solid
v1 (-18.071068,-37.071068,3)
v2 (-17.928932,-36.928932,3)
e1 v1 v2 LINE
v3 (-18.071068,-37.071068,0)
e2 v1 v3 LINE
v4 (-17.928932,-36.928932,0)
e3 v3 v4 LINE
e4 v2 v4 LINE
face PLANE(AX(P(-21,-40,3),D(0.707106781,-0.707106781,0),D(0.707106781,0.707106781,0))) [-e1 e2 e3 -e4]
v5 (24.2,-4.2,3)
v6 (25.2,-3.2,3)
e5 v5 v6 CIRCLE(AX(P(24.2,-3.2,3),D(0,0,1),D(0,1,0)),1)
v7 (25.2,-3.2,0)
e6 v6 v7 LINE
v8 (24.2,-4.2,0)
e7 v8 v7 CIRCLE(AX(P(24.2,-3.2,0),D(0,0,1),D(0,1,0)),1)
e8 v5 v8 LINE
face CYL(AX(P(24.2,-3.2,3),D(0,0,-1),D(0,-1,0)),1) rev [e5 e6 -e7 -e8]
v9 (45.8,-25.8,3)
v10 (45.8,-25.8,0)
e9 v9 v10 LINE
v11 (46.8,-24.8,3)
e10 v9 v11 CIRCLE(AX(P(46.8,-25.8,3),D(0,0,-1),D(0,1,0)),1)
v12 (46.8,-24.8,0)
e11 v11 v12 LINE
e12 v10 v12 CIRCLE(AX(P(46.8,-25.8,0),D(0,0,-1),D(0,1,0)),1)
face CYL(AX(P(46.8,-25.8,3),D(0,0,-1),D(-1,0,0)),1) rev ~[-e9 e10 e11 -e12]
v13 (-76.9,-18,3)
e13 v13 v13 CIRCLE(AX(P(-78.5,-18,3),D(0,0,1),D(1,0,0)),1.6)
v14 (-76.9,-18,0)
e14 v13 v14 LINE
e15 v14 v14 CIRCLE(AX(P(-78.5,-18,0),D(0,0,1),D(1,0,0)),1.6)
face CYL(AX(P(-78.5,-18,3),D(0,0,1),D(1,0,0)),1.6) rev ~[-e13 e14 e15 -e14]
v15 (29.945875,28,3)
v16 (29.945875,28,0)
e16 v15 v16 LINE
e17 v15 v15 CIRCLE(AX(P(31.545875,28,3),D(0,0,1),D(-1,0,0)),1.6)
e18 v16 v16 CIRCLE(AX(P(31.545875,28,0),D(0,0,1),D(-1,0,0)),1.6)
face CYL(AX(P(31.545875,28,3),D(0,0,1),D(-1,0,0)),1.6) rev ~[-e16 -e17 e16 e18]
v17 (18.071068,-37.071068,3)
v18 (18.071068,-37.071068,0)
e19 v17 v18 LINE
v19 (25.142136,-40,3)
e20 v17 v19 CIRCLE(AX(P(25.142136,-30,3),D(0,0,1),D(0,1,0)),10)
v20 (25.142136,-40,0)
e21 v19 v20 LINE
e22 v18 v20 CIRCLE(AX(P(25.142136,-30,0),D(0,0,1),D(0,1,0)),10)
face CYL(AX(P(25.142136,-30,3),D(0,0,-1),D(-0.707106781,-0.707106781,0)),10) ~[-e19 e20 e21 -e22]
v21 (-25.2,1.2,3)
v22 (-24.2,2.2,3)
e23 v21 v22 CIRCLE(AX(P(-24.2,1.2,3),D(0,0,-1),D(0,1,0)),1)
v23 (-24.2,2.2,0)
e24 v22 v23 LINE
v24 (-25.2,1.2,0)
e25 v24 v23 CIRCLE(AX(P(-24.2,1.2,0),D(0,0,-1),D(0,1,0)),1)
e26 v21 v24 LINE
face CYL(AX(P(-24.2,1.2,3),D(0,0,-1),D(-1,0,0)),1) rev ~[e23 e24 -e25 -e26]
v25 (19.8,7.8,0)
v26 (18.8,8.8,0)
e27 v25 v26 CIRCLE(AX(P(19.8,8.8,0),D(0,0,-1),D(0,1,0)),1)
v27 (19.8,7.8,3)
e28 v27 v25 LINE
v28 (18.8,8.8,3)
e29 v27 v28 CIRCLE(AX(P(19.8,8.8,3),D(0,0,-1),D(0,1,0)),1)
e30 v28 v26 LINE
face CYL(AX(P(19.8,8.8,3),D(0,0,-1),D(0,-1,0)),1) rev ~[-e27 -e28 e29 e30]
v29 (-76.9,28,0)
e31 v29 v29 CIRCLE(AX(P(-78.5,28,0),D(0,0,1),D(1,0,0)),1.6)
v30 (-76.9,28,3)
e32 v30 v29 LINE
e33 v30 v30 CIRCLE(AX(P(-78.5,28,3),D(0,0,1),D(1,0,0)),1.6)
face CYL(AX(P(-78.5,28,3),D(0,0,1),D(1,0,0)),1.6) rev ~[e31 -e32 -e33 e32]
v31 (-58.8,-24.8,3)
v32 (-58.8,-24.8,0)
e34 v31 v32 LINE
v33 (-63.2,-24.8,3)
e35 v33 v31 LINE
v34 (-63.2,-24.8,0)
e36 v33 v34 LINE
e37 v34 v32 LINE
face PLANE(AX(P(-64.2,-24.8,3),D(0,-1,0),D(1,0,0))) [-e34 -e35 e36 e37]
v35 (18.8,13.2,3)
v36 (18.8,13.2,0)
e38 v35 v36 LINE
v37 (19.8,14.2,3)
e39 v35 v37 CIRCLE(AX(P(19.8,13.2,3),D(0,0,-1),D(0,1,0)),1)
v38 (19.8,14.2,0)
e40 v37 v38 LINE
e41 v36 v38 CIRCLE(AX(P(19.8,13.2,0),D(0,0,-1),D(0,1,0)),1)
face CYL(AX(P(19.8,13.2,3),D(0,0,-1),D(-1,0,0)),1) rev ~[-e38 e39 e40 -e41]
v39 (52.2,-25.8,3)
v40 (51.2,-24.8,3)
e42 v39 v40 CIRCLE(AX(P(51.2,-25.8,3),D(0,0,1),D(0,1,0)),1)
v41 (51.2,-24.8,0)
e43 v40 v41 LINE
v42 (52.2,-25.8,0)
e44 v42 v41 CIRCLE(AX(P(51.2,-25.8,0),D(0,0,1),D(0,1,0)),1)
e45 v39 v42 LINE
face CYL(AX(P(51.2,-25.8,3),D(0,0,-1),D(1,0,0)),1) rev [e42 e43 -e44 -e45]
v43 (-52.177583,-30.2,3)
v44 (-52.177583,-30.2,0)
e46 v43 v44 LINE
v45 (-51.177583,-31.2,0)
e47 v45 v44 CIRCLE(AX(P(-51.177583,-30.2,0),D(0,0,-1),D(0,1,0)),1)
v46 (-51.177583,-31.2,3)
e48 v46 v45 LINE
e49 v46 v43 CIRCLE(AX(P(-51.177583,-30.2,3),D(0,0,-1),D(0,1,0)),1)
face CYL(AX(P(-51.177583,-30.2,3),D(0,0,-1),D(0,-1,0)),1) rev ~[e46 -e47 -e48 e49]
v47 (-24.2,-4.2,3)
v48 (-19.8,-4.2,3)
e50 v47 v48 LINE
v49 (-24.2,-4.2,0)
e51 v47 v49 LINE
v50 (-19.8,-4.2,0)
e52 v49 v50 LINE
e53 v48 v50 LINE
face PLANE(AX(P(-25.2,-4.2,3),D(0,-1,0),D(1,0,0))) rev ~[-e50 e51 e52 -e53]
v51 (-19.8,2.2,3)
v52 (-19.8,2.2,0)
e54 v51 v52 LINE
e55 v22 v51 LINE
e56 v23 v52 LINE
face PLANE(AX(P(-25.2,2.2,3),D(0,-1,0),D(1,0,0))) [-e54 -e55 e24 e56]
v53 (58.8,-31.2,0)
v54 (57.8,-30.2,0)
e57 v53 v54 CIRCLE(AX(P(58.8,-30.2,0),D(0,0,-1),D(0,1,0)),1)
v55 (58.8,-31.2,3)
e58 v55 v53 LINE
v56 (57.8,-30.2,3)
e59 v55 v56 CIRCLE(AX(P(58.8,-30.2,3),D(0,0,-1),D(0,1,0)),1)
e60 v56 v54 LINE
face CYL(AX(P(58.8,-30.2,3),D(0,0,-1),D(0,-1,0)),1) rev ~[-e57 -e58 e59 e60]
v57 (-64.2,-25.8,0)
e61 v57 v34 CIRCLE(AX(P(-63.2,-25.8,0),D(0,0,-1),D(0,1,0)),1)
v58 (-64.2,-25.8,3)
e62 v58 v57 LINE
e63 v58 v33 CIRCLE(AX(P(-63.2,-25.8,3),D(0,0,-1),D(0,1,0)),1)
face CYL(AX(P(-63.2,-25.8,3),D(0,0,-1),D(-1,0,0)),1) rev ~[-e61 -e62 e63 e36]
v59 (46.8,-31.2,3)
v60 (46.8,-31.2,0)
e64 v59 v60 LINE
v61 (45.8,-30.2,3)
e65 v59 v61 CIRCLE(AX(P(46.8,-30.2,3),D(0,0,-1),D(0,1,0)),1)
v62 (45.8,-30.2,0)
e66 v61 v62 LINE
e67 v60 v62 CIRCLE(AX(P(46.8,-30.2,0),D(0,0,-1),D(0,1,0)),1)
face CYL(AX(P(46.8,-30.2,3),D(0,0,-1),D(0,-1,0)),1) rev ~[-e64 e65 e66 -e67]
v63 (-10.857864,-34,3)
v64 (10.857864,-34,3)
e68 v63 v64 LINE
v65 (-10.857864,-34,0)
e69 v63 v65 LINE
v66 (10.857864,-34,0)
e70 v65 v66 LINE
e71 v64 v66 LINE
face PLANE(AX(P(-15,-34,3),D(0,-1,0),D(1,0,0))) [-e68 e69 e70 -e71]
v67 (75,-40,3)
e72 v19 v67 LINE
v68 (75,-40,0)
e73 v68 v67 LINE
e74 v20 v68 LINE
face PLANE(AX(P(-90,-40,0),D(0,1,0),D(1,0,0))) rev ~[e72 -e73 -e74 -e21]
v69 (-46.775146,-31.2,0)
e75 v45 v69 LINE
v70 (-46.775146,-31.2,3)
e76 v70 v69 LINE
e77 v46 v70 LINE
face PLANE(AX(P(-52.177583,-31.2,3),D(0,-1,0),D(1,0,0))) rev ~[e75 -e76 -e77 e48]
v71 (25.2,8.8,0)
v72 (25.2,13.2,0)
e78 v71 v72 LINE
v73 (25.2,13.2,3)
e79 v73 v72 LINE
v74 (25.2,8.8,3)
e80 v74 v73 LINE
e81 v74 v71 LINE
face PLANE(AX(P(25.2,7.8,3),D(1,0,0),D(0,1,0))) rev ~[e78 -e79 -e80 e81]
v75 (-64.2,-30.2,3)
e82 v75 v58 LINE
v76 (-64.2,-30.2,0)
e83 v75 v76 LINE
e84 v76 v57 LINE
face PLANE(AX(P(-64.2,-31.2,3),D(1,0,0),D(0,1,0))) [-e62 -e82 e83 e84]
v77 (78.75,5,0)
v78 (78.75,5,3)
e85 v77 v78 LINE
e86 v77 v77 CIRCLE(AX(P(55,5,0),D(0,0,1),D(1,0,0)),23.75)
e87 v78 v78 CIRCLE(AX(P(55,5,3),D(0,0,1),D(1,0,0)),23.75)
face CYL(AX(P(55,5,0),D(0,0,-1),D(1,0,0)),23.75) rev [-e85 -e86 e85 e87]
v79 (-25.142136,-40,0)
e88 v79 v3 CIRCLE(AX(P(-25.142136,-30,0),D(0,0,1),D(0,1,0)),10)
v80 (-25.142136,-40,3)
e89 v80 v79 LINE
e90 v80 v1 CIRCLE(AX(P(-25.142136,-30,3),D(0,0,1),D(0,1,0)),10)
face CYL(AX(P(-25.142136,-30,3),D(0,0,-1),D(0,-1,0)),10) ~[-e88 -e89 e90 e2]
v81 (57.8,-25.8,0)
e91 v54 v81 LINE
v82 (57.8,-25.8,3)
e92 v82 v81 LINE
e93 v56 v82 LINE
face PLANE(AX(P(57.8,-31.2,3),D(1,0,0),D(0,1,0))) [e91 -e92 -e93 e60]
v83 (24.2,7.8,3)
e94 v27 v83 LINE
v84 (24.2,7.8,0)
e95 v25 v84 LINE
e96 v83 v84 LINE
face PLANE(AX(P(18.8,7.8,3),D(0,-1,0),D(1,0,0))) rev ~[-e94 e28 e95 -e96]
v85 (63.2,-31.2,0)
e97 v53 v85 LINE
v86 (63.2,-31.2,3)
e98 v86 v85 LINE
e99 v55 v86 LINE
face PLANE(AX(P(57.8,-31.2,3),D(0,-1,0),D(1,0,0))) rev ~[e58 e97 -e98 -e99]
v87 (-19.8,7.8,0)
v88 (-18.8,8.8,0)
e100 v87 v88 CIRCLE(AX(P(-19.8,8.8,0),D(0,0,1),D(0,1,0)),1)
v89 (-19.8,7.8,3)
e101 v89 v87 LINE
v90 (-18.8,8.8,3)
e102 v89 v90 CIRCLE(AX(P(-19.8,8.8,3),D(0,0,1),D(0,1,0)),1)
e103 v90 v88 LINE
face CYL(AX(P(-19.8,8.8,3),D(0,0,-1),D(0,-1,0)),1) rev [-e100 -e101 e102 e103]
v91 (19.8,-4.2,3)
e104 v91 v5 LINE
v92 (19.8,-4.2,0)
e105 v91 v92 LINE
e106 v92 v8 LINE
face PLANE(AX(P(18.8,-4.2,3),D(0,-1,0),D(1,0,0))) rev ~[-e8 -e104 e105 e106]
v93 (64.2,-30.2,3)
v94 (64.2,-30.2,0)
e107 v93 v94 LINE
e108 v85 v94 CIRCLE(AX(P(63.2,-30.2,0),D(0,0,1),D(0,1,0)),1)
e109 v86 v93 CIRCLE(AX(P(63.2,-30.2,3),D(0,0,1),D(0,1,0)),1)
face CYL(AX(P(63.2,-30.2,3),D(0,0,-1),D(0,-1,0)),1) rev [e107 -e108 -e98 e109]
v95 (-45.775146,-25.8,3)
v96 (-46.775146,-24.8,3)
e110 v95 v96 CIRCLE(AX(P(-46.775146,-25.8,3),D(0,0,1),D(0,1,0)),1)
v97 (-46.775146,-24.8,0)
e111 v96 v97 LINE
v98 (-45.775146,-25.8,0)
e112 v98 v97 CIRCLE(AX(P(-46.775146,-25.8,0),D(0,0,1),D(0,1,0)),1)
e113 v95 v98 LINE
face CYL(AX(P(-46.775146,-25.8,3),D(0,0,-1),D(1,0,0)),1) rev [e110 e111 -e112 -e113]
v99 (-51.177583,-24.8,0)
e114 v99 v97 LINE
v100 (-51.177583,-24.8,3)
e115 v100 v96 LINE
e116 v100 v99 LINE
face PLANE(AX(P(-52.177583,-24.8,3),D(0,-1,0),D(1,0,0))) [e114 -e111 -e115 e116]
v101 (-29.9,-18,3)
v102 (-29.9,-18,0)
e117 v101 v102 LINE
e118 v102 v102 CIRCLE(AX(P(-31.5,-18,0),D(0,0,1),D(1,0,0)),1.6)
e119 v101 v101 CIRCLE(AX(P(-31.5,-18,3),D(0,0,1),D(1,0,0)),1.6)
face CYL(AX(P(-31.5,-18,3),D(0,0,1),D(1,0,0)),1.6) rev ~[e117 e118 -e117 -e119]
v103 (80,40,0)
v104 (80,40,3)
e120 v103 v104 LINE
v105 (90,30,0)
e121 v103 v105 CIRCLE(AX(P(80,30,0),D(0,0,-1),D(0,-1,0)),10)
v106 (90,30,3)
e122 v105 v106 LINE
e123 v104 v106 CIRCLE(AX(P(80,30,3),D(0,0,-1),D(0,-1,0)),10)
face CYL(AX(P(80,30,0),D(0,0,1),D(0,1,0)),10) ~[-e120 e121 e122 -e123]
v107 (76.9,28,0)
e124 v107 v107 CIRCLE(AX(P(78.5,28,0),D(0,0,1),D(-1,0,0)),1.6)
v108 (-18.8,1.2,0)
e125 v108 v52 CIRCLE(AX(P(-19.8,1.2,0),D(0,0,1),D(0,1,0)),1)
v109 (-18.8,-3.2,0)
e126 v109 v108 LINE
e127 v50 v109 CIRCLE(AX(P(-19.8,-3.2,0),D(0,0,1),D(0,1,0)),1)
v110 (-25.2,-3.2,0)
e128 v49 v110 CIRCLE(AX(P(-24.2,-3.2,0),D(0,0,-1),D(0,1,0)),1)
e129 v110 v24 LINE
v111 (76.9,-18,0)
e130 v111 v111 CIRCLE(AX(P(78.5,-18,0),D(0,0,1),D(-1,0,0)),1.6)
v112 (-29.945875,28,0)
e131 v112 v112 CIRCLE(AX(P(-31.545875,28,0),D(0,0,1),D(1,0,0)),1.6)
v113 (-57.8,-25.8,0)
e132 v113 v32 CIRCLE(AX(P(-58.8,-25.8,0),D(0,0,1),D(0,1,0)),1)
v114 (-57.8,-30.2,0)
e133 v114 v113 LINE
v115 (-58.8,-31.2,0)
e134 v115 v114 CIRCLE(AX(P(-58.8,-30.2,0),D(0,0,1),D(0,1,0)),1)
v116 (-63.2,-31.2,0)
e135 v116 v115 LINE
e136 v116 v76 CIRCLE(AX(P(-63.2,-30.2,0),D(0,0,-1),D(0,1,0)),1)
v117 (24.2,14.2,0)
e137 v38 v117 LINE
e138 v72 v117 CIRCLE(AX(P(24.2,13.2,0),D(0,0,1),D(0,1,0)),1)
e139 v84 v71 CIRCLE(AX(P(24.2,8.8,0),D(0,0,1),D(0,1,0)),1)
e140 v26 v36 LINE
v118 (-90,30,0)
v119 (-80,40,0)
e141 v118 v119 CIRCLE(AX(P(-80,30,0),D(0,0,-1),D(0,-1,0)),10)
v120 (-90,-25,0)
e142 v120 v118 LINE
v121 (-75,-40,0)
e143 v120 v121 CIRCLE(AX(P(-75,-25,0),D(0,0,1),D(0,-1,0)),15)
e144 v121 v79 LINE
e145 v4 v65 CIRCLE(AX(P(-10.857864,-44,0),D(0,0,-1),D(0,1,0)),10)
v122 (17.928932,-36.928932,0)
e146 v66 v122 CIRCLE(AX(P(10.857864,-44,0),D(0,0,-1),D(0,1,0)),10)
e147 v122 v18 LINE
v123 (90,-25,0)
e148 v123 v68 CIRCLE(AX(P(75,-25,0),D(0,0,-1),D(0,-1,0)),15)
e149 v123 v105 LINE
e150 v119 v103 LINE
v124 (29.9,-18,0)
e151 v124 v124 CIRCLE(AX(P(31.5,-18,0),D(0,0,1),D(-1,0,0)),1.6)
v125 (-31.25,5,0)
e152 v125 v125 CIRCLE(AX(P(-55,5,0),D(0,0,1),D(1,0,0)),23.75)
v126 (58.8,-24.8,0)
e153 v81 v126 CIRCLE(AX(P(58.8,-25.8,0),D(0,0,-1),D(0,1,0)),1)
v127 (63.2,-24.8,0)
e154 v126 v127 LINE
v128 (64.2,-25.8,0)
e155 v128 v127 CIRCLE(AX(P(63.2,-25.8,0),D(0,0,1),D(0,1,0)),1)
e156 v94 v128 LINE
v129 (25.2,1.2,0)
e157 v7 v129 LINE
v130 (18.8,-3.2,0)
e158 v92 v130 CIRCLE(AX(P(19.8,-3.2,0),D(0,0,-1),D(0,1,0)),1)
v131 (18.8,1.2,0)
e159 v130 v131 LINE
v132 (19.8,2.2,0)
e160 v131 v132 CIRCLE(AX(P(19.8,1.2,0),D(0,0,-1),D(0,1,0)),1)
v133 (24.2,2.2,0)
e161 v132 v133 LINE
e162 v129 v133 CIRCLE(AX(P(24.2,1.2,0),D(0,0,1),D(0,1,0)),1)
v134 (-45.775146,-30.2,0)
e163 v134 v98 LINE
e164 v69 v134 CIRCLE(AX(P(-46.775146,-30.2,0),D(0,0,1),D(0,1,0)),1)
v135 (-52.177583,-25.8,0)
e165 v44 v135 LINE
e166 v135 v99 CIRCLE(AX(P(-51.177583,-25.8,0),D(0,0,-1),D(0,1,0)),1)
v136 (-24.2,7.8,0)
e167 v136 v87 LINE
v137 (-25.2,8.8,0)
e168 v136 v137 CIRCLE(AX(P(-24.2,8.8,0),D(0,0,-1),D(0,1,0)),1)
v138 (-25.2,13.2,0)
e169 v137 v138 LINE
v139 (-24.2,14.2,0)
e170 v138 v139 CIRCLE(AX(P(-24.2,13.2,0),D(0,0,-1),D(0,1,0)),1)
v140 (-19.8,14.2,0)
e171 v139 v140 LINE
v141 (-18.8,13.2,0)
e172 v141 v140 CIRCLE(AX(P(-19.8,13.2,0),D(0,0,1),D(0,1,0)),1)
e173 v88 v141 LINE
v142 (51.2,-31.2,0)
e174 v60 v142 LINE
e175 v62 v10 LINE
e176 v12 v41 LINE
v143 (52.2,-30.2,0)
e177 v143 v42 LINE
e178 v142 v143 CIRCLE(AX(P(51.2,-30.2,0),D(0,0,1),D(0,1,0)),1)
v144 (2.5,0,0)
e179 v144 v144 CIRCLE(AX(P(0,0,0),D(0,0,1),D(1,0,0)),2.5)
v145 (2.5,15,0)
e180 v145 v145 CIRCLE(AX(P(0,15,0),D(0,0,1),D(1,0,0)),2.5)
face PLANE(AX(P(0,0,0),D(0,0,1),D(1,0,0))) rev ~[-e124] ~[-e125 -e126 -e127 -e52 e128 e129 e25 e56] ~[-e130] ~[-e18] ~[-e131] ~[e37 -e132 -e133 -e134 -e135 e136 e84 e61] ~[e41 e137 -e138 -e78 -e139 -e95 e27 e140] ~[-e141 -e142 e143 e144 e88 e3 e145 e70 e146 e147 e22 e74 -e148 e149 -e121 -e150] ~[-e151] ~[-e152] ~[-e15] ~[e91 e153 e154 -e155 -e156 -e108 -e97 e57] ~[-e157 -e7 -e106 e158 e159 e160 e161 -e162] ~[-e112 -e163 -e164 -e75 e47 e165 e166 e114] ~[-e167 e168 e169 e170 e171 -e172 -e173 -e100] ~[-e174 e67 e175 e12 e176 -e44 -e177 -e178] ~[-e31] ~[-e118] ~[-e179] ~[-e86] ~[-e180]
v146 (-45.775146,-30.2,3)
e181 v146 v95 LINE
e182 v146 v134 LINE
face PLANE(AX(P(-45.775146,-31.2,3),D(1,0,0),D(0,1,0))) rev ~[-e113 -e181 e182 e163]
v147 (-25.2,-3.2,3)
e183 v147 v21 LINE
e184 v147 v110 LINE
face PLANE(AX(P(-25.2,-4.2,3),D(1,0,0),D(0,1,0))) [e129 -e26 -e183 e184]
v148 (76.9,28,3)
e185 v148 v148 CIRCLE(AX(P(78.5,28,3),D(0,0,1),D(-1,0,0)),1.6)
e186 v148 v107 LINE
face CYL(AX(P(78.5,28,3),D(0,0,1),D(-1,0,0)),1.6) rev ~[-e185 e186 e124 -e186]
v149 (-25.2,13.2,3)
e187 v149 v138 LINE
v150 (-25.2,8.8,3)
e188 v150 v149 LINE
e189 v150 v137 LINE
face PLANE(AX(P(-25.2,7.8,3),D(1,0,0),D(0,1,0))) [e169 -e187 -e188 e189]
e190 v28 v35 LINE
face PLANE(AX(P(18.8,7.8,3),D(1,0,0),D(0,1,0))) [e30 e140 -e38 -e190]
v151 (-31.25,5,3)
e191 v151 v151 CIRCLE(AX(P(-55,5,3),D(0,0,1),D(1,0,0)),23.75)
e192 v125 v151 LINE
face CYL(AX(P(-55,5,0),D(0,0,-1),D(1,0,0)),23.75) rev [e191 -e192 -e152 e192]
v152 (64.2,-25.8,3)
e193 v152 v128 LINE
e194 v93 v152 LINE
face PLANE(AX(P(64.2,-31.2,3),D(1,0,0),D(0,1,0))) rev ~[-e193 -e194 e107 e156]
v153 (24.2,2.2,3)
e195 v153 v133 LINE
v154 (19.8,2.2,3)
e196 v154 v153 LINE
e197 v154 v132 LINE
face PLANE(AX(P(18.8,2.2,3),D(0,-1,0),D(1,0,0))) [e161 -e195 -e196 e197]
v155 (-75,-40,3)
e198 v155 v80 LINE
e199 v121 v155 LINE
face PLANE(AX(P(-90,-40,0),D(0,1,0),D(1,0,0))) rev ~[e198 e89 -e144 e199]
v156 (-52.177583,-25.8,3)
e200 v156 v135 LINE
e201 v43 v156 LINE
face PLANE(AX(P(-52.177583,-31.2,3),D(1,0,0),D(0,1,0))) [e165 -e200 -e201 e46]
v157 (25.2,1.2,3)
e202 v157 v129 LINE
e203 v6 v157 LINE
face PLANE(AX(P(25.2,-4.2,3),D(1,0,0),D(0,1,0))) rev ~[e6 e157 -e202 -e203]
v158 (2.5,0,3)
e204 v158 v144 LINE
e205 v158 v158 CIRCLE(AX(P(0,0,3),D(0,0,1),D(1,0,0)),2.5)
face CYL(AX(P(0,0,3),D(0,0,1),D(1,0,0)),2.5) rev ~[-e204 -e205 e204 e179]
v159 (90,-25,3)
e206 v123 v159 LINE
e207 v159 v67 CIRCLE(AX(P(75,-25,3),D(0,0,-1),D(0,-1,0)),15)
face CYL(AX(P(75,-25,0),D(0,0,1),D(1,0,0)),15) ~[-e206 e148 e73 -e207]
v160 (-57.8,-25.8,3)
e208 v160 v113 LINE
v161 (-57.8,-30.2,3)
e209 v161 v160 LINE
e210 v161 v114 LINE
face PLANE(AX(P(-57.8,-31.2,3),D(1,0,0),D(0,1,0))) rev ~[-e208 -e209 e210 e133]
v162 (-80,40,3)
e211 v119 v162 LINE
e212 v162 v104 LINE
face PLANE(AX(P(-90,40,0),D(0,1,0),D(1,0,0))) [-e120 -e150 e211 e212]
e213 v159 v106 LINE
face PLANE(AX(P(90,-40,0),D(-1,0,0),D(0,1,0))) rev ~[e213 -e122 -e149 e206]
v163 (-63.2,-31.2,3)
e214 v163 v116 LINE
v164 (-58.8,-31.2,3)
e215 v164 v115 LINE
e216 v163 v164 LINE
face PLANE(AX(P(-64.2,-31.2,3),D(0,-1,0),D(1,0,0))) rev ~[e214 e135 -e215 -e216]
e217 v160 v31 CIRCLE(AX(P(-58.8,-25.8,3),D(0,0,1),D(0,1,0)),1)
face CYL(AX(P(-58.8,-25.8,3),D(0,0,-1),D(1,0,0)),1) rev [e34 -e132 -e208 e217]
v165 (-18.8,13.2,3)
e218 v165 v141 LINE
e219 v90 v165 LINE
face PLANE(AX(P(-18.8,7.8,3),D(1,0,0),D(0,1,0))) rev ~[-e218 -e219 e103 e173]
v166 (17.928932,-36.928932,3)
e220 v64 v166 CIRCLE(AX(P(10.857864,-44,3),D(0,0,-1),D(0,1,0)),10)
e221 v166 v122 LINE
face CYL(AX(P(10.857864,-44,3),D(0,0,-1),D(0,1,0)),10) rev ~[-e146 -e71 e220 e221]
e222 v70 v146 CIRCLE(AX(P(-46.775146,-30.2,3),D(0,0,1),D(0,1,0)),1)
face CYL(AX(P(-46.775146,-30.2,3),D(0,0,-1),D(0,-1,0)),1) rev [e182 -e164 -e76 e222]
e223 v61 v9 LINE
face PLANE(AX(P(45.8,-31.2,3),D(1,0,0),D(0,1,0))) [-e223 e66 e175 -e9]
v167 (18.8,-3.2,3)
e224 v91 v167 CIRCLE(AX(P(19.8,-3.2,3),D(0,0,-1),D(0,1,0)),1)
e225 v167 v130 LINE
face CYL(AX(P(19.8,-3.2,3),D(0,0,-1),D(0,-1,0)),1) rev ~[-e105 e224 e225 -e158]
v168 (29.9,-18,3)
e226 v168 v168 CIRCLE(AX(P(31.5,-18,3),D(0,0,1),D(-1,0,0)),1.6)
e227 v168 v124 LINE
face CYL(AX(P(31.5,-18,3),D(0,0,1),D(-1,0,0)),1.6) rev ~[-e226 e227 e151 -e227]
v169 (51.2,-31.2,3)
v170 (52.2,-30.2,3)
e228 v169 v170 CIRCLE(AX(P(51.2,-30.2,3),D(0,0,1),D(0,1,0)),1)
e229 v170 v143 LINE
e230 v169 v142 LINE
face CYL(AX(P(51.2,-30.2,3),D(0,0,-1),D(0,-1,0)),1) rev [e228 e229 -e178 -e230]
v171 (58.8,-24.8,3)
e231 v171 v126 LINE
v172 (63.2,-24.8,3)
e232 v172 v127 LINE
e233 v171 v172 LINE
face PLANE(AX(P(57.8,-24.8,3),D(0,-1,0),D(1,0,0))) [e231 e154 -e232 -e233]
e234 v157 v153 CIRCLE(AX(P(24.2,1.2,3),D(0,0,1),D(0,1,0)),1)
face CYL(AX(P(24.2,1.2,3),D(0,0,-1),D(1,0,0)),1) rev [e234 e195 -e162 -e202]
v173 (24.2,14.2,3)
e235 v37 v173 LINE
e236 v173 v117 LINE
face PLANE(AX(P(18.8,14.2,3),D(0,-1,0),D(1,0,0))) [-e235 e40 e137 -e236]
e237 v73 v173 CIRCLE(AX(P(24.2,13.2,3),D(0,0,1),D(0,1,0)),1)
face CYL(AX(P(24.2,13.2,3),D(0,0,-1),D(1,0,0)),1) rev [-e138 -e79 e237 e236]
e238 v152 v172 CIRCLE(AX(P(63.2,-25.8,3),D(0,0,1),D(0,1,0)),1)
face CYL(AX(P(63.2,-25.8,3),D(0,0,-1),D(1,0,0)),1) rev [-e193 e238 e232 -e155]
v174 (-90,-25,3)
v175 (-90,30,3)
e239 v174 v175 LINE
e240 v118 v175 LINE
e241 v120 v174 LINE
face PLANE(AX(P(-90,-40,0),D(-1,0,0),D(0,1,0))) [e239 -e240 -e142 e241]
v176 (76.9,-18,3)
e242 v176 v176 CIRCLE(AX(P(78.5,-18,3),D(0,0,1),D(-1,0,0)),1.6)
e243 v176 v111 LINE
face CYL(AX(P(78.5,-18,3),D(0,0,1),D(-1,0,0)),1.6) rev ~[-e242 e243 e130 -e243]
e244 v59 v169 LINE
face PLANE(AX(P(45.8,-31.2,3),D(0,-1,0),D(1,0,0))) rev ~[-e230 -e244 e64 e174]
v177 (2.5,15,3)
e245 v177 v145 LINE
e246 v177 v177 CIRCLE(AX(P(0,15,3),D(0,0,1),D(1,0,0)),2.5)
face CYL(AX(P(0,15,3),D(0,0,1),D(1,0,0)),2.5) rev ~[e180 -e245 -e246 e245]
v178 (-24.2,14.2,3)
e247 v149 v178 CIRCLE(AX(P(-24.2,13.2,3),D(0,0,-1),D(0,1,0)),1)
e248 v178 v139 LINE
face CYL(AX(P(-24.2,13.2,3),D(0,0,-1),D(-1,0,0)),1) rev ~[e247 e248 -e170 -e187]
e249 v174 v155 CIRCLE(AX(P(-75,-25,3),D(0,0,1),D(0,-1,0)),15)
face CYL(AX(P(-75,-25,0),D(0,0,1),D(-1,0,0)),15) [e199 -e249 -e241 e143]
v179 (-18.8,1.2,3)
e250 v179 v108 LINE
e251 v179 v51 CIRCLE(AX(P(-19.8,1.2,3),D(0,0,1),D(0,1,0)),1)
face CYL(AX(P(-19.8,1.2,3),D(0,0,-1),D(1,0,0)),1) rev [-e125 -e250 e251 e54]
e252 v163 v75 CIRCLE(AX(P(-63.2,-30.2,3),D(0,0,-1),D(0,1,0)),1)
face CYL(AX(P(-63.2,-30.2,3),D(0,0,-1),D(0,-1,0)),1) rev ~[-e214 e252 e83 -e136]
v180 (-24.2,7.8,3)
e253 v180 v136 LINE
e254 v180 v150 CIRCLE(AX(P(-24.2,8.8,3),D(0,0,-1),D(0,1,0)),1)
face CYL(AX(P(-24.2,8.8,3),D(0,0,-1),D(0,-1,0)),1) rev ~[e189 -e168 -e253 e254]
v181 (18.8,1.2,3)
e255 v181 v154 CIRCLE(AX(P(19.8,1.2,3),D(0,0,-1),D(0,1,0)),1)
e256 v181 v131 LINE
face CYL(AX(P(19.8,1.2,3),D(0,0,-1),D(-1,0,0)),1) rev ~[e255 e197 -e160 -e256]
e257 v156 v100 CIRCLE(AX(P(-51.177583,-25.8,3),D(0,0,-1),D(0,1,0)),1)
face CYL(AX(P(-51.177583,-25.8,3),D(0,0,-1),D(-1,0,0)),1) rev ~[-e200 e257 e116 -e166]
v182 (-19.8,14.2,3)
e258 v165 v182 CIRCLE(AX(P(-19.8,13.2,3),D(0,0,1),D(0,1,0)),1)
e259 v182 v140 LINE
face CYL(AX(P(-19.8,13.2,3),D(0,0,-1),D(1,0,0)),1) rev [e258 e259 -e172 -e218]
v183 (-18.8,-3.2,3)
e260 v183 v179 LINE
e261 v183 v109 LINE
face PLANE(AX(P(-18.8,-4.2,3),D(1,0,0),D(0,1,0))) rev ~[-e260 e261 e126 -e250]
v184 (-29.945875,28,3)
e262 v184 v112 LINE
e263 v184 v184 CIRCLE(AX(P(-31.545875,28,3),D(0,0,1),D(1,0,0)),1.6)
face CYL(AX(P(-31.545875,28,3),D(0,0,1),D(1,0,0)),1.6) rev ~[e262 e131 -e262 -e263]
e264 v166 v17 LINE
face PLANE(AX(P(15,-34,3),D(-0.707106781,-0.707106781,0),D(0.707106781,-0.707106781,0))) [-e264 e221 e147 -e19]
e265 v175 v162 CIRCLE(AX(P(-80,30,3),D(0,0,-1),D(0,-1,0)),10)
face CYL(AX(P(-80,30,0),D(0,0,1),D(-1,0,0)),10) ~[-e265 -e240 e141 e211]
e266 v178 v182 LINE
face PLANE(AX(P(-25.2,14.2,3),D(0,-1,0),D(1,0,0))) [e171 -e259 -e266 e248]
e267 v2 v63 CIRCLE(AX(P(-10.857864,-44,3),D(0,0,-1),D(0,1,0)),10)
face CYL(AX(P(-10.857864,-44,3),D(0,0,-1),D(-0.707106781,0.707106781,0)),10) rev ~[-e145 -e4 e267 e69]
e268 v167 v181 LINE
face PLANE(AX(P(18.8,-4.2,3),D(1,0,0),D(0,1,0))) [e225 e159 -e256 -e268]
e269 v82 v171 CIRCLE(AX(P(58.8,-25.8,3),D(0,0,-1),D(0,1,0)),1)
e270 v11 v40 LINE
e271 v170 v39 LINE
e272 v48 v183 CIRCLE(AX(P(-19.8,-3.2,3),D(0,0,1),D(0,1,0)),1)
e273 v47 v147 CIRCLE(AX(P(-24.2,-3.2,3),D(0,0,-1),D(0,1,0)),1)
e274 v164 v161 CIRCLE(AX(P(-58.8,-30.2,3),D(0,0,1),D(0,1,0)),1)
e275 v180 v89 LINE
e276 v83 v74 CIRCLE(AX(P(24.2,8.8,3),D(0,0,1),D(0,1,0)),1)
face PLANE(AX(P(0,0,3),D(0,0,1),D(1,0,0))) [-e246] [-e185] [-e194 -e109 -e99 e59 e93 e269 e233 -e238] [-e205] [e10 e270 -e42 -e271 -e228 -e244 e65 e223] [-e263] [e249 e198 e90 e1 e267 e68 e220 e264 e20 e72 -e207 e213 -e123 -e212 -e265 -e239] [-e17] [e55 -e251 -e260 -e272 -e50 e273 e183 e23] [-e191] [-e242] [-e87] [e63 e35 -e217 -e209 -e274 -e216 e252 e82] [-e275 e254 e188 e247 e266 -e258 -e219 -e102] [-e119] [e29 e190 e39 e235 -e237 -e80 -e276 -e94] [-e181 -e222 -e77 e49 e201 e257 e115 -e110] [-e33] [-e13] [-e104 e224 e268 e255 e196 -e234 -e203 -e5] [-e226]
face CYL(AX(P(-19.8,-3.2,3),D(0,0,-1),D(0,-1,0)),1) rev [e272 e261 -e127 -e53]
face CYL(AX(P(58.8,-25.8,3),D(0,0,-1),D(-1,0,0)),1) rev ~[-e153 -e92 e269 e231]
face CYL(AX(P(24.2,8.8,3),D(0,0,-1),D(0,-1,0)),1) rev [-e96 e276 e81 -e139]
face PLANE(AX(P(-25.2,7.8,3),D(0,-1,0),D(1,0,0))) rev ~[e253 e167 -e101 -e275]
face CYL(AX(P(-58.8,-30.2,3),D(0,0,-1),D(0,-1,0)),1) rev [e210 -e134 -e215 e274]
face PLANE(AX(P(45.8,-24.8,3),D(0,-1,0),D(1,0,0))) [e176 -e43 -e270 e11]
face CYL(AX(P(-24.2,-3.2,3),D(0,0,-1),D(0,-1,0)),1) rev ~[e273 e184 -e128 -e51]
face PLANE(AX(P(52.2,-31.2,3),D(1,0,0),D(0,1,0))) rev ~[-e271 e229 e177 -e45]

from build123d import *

# Parameters (mm, degrees)
SKETCH1_W           = 180
SKETCH1_H           = 80
SKETCH1_R           = 23.75
BOSS_EXTRUDE1_DEPTH = 3
SKETCH2_W           = 6.4
SKETCH2_H           = 6.4
SKETCH2_W_2         = 6.402436435
CUT_EXTRUDE1_DEPTH  = 99.534258002
CUT_EXTRUDE2_DEPTH  = 3
SKETCH4_R           = 1.6
CUT_EXTRUDE3_DEPTH  = 3
SKETCH7_R           = 2.5
CUT_EXTRUDE4_DEPTH  = 3
FILLET1_R           = 10
FILLET2_R           = 15
FILLET3_R           = 10
FILLET4_R           = 1


with BuildPart() as part:
    # Sketch1 → Boss-Extrude1 (new body)
    with BuildSketch(Plane.XY):
        Rectangle(SKETCH1_W, SKETCH1_H)
        with Locations((55, 5)):
            Circle(SKETCH1_R, mode=Mode.SUBTRACT)
        with Locations((-55, 5)):
            Circle(SKETCH1_R, mode=Mode.SUBTRACT)
    extrude(amount=BOSS_EXTRUDE1_DEPTH)

    # Sketch2 → Cut-Extrude1 (cut, through all)
    with BuildSketch(Plane.XY.offset(3)):
        with Locations((-61, -28)):
            Rectangle(SKETCH2_W, SKETCH2_H)
        with Locations((-48.976364432, -28)):
            Rectangle(SKETCH2_W_2, SKETCH2_H)
        with Locations((-22, -1)):
            Rectangle(SKETCH2_W, SKETCH2_H)
        with Locations((-22, 11)):
            Rectangle(SKETCH2_W, SKETCH2_H)
        with Locations((22, -1)):
            Rectangle(SKETCH2_W, SKETCH2_H)
        with Locations((22, 11)):
            Rectangle(SKETCH2_W, SKETCH2_H)
        with Locations((49, -28)):
            Rectangle(SKETCH2_W, SKETCH2_H)
        with Locations((61, -28)):
            Rectangle(SKETCH2_W, SKETCH2_H)
    extrude(amount=-CUT_EXTRUDE1_DEPTH, mode=Mode.SUBTRACT)

    # Sketch3 → Cut-Extrude2 (cut)
    with BuildSketch(Plane.XY.offset(3)):
        Polygon((-21, -40), (-15, -34), (15, -34), (21, -40), align=None)
    extrude(amount=-CUT_EXTRUDE2_DEPTH, mode=Mode.SUBTRACT)

    # Sketch4 → Cut-Extrude3 (cut)
    with BuildSketch(Plane.XY.offset(3)):
        with Locations((-78.5, 28)):
            Circle(SKETCH4_R)
        with Locations((-31.545874822, 28)):
            Circle(SKETCH4_R)
        with Locations((-31.5, -18)):
            Circle(SKETCH4_R)
        with Locations((-78.5, -18)):
            Circle(SKETCH4_R)
        with Locations(Location((31.5, -18, 0), (0, 0, 180))):
            Circle(SKETCH4_R)
        with Locations(Location((31.545874822, 28, 0), (0, 0, 180))):
            Circle(SKETCH4_R)
        with Locations(Location((78.5, 28, 0), (0, 0, 180))):
            Circle(SKETCH4_R)
        with Locations(Location((78.5, -18, 0), (0, 0, 180))):
            Circle(SKETCH4_R)
    extrude(amount=-CUT_EXTRUDE3_DEPTH, mode=Mode.SUBTRACT)

    # Sketch7 → Cut-Extrude4 (cut)
    with BuildSketch(Plane.XY.offset(3)):
        Circle(SKETCH7_R)
        with Locations((0, 15)):
            Circle(SKETCH7_R)
    extrude(amount=-CUT_EXTRUDE4_DEPTH, mode=Mode.SUBTRACT)

    # Fillet1
    fillet1_edges = [part.edges().sort_by_distance(p)[0] for p in [
        (-90, 40, 1.5),
        (90, 40, 1.5),
    ]]
    fillet(fillet1_edges, radius=FILLET1_R)

    # Fillet2
    fillet2_edges = [part.edges().sort_by_distance(p)[0] for p in [
        (90, -40, 1.5),
        (-90, -40, 1.5),
    ]]
    fillet(fillet2_edges, radius=FILLET2_R)

    # Fillet3
    fillet3_edges = [part.edges().sort_by_distance(p)[0] for p in [
        (-15, -34, 1.5),
        (15, -34, 1.5),
        (21, -40, 1.5),
        (-21, -40, 1.5),
    ]]
    fillet(fillet3_edges, radius=FILLET3_R)

    # Fillet4
    fillet4_edges = [part.edges().sort_by_distance(p)[0] for p in [
        (45.8, -31.2, 1.5),
        (45.8, -24.8, 1.5),
        (52.2, -24.8, 1.5),
        (52.2, -31.2, 1.5),
        (57.8, -31.2, 1.5),
        (57.8, -24.8, 1.5),
        (64.2, -24.8, 1.5),
        (64.2, -31.2, 1.5),
        (-64.2, -24.8, 1.5),
        (-57.8, -24.8, 1.5),
        (-57.8, -31.2, 1.5),
        (-64.2, -31.2, 1.5),
        (-52.177582649, -31.2, 1.5),
        (-52.177582649, -24.8, 1.5),
        (-45.775146214, -24.8, 1.5),
        (-45.775146214, -31.2, 1.5),
        (-25.2, -4.2, 1.5),
        (-25.2, 2.2, 1.5),
        (-18.8, 2.2, 1.5),
        (-18.8, -4.2, 1.5),
        (-25.2, 7.8, 1.5),
        (-25.2, 14.2, 1.5),
        (-18.8, 14.2, 1.5),
        (-18.8, 7.8, 1.5),
        (18.8, -4.2, 1.5),
        (18.8, 2.2, 1.5),
        (25.2, 2.2, 1.5),
        (25.2, -4.2, 1.5),
        (18.8, 7.8, 1.5),
        (18.8, 14.2, 1.5),
        (25.2, 14.2, 1.5),
        (25.2, 7.8, 1.5),
    ]]
    fillet(fillet4_edges, radius=FILLET4_R)


solid = part.part
